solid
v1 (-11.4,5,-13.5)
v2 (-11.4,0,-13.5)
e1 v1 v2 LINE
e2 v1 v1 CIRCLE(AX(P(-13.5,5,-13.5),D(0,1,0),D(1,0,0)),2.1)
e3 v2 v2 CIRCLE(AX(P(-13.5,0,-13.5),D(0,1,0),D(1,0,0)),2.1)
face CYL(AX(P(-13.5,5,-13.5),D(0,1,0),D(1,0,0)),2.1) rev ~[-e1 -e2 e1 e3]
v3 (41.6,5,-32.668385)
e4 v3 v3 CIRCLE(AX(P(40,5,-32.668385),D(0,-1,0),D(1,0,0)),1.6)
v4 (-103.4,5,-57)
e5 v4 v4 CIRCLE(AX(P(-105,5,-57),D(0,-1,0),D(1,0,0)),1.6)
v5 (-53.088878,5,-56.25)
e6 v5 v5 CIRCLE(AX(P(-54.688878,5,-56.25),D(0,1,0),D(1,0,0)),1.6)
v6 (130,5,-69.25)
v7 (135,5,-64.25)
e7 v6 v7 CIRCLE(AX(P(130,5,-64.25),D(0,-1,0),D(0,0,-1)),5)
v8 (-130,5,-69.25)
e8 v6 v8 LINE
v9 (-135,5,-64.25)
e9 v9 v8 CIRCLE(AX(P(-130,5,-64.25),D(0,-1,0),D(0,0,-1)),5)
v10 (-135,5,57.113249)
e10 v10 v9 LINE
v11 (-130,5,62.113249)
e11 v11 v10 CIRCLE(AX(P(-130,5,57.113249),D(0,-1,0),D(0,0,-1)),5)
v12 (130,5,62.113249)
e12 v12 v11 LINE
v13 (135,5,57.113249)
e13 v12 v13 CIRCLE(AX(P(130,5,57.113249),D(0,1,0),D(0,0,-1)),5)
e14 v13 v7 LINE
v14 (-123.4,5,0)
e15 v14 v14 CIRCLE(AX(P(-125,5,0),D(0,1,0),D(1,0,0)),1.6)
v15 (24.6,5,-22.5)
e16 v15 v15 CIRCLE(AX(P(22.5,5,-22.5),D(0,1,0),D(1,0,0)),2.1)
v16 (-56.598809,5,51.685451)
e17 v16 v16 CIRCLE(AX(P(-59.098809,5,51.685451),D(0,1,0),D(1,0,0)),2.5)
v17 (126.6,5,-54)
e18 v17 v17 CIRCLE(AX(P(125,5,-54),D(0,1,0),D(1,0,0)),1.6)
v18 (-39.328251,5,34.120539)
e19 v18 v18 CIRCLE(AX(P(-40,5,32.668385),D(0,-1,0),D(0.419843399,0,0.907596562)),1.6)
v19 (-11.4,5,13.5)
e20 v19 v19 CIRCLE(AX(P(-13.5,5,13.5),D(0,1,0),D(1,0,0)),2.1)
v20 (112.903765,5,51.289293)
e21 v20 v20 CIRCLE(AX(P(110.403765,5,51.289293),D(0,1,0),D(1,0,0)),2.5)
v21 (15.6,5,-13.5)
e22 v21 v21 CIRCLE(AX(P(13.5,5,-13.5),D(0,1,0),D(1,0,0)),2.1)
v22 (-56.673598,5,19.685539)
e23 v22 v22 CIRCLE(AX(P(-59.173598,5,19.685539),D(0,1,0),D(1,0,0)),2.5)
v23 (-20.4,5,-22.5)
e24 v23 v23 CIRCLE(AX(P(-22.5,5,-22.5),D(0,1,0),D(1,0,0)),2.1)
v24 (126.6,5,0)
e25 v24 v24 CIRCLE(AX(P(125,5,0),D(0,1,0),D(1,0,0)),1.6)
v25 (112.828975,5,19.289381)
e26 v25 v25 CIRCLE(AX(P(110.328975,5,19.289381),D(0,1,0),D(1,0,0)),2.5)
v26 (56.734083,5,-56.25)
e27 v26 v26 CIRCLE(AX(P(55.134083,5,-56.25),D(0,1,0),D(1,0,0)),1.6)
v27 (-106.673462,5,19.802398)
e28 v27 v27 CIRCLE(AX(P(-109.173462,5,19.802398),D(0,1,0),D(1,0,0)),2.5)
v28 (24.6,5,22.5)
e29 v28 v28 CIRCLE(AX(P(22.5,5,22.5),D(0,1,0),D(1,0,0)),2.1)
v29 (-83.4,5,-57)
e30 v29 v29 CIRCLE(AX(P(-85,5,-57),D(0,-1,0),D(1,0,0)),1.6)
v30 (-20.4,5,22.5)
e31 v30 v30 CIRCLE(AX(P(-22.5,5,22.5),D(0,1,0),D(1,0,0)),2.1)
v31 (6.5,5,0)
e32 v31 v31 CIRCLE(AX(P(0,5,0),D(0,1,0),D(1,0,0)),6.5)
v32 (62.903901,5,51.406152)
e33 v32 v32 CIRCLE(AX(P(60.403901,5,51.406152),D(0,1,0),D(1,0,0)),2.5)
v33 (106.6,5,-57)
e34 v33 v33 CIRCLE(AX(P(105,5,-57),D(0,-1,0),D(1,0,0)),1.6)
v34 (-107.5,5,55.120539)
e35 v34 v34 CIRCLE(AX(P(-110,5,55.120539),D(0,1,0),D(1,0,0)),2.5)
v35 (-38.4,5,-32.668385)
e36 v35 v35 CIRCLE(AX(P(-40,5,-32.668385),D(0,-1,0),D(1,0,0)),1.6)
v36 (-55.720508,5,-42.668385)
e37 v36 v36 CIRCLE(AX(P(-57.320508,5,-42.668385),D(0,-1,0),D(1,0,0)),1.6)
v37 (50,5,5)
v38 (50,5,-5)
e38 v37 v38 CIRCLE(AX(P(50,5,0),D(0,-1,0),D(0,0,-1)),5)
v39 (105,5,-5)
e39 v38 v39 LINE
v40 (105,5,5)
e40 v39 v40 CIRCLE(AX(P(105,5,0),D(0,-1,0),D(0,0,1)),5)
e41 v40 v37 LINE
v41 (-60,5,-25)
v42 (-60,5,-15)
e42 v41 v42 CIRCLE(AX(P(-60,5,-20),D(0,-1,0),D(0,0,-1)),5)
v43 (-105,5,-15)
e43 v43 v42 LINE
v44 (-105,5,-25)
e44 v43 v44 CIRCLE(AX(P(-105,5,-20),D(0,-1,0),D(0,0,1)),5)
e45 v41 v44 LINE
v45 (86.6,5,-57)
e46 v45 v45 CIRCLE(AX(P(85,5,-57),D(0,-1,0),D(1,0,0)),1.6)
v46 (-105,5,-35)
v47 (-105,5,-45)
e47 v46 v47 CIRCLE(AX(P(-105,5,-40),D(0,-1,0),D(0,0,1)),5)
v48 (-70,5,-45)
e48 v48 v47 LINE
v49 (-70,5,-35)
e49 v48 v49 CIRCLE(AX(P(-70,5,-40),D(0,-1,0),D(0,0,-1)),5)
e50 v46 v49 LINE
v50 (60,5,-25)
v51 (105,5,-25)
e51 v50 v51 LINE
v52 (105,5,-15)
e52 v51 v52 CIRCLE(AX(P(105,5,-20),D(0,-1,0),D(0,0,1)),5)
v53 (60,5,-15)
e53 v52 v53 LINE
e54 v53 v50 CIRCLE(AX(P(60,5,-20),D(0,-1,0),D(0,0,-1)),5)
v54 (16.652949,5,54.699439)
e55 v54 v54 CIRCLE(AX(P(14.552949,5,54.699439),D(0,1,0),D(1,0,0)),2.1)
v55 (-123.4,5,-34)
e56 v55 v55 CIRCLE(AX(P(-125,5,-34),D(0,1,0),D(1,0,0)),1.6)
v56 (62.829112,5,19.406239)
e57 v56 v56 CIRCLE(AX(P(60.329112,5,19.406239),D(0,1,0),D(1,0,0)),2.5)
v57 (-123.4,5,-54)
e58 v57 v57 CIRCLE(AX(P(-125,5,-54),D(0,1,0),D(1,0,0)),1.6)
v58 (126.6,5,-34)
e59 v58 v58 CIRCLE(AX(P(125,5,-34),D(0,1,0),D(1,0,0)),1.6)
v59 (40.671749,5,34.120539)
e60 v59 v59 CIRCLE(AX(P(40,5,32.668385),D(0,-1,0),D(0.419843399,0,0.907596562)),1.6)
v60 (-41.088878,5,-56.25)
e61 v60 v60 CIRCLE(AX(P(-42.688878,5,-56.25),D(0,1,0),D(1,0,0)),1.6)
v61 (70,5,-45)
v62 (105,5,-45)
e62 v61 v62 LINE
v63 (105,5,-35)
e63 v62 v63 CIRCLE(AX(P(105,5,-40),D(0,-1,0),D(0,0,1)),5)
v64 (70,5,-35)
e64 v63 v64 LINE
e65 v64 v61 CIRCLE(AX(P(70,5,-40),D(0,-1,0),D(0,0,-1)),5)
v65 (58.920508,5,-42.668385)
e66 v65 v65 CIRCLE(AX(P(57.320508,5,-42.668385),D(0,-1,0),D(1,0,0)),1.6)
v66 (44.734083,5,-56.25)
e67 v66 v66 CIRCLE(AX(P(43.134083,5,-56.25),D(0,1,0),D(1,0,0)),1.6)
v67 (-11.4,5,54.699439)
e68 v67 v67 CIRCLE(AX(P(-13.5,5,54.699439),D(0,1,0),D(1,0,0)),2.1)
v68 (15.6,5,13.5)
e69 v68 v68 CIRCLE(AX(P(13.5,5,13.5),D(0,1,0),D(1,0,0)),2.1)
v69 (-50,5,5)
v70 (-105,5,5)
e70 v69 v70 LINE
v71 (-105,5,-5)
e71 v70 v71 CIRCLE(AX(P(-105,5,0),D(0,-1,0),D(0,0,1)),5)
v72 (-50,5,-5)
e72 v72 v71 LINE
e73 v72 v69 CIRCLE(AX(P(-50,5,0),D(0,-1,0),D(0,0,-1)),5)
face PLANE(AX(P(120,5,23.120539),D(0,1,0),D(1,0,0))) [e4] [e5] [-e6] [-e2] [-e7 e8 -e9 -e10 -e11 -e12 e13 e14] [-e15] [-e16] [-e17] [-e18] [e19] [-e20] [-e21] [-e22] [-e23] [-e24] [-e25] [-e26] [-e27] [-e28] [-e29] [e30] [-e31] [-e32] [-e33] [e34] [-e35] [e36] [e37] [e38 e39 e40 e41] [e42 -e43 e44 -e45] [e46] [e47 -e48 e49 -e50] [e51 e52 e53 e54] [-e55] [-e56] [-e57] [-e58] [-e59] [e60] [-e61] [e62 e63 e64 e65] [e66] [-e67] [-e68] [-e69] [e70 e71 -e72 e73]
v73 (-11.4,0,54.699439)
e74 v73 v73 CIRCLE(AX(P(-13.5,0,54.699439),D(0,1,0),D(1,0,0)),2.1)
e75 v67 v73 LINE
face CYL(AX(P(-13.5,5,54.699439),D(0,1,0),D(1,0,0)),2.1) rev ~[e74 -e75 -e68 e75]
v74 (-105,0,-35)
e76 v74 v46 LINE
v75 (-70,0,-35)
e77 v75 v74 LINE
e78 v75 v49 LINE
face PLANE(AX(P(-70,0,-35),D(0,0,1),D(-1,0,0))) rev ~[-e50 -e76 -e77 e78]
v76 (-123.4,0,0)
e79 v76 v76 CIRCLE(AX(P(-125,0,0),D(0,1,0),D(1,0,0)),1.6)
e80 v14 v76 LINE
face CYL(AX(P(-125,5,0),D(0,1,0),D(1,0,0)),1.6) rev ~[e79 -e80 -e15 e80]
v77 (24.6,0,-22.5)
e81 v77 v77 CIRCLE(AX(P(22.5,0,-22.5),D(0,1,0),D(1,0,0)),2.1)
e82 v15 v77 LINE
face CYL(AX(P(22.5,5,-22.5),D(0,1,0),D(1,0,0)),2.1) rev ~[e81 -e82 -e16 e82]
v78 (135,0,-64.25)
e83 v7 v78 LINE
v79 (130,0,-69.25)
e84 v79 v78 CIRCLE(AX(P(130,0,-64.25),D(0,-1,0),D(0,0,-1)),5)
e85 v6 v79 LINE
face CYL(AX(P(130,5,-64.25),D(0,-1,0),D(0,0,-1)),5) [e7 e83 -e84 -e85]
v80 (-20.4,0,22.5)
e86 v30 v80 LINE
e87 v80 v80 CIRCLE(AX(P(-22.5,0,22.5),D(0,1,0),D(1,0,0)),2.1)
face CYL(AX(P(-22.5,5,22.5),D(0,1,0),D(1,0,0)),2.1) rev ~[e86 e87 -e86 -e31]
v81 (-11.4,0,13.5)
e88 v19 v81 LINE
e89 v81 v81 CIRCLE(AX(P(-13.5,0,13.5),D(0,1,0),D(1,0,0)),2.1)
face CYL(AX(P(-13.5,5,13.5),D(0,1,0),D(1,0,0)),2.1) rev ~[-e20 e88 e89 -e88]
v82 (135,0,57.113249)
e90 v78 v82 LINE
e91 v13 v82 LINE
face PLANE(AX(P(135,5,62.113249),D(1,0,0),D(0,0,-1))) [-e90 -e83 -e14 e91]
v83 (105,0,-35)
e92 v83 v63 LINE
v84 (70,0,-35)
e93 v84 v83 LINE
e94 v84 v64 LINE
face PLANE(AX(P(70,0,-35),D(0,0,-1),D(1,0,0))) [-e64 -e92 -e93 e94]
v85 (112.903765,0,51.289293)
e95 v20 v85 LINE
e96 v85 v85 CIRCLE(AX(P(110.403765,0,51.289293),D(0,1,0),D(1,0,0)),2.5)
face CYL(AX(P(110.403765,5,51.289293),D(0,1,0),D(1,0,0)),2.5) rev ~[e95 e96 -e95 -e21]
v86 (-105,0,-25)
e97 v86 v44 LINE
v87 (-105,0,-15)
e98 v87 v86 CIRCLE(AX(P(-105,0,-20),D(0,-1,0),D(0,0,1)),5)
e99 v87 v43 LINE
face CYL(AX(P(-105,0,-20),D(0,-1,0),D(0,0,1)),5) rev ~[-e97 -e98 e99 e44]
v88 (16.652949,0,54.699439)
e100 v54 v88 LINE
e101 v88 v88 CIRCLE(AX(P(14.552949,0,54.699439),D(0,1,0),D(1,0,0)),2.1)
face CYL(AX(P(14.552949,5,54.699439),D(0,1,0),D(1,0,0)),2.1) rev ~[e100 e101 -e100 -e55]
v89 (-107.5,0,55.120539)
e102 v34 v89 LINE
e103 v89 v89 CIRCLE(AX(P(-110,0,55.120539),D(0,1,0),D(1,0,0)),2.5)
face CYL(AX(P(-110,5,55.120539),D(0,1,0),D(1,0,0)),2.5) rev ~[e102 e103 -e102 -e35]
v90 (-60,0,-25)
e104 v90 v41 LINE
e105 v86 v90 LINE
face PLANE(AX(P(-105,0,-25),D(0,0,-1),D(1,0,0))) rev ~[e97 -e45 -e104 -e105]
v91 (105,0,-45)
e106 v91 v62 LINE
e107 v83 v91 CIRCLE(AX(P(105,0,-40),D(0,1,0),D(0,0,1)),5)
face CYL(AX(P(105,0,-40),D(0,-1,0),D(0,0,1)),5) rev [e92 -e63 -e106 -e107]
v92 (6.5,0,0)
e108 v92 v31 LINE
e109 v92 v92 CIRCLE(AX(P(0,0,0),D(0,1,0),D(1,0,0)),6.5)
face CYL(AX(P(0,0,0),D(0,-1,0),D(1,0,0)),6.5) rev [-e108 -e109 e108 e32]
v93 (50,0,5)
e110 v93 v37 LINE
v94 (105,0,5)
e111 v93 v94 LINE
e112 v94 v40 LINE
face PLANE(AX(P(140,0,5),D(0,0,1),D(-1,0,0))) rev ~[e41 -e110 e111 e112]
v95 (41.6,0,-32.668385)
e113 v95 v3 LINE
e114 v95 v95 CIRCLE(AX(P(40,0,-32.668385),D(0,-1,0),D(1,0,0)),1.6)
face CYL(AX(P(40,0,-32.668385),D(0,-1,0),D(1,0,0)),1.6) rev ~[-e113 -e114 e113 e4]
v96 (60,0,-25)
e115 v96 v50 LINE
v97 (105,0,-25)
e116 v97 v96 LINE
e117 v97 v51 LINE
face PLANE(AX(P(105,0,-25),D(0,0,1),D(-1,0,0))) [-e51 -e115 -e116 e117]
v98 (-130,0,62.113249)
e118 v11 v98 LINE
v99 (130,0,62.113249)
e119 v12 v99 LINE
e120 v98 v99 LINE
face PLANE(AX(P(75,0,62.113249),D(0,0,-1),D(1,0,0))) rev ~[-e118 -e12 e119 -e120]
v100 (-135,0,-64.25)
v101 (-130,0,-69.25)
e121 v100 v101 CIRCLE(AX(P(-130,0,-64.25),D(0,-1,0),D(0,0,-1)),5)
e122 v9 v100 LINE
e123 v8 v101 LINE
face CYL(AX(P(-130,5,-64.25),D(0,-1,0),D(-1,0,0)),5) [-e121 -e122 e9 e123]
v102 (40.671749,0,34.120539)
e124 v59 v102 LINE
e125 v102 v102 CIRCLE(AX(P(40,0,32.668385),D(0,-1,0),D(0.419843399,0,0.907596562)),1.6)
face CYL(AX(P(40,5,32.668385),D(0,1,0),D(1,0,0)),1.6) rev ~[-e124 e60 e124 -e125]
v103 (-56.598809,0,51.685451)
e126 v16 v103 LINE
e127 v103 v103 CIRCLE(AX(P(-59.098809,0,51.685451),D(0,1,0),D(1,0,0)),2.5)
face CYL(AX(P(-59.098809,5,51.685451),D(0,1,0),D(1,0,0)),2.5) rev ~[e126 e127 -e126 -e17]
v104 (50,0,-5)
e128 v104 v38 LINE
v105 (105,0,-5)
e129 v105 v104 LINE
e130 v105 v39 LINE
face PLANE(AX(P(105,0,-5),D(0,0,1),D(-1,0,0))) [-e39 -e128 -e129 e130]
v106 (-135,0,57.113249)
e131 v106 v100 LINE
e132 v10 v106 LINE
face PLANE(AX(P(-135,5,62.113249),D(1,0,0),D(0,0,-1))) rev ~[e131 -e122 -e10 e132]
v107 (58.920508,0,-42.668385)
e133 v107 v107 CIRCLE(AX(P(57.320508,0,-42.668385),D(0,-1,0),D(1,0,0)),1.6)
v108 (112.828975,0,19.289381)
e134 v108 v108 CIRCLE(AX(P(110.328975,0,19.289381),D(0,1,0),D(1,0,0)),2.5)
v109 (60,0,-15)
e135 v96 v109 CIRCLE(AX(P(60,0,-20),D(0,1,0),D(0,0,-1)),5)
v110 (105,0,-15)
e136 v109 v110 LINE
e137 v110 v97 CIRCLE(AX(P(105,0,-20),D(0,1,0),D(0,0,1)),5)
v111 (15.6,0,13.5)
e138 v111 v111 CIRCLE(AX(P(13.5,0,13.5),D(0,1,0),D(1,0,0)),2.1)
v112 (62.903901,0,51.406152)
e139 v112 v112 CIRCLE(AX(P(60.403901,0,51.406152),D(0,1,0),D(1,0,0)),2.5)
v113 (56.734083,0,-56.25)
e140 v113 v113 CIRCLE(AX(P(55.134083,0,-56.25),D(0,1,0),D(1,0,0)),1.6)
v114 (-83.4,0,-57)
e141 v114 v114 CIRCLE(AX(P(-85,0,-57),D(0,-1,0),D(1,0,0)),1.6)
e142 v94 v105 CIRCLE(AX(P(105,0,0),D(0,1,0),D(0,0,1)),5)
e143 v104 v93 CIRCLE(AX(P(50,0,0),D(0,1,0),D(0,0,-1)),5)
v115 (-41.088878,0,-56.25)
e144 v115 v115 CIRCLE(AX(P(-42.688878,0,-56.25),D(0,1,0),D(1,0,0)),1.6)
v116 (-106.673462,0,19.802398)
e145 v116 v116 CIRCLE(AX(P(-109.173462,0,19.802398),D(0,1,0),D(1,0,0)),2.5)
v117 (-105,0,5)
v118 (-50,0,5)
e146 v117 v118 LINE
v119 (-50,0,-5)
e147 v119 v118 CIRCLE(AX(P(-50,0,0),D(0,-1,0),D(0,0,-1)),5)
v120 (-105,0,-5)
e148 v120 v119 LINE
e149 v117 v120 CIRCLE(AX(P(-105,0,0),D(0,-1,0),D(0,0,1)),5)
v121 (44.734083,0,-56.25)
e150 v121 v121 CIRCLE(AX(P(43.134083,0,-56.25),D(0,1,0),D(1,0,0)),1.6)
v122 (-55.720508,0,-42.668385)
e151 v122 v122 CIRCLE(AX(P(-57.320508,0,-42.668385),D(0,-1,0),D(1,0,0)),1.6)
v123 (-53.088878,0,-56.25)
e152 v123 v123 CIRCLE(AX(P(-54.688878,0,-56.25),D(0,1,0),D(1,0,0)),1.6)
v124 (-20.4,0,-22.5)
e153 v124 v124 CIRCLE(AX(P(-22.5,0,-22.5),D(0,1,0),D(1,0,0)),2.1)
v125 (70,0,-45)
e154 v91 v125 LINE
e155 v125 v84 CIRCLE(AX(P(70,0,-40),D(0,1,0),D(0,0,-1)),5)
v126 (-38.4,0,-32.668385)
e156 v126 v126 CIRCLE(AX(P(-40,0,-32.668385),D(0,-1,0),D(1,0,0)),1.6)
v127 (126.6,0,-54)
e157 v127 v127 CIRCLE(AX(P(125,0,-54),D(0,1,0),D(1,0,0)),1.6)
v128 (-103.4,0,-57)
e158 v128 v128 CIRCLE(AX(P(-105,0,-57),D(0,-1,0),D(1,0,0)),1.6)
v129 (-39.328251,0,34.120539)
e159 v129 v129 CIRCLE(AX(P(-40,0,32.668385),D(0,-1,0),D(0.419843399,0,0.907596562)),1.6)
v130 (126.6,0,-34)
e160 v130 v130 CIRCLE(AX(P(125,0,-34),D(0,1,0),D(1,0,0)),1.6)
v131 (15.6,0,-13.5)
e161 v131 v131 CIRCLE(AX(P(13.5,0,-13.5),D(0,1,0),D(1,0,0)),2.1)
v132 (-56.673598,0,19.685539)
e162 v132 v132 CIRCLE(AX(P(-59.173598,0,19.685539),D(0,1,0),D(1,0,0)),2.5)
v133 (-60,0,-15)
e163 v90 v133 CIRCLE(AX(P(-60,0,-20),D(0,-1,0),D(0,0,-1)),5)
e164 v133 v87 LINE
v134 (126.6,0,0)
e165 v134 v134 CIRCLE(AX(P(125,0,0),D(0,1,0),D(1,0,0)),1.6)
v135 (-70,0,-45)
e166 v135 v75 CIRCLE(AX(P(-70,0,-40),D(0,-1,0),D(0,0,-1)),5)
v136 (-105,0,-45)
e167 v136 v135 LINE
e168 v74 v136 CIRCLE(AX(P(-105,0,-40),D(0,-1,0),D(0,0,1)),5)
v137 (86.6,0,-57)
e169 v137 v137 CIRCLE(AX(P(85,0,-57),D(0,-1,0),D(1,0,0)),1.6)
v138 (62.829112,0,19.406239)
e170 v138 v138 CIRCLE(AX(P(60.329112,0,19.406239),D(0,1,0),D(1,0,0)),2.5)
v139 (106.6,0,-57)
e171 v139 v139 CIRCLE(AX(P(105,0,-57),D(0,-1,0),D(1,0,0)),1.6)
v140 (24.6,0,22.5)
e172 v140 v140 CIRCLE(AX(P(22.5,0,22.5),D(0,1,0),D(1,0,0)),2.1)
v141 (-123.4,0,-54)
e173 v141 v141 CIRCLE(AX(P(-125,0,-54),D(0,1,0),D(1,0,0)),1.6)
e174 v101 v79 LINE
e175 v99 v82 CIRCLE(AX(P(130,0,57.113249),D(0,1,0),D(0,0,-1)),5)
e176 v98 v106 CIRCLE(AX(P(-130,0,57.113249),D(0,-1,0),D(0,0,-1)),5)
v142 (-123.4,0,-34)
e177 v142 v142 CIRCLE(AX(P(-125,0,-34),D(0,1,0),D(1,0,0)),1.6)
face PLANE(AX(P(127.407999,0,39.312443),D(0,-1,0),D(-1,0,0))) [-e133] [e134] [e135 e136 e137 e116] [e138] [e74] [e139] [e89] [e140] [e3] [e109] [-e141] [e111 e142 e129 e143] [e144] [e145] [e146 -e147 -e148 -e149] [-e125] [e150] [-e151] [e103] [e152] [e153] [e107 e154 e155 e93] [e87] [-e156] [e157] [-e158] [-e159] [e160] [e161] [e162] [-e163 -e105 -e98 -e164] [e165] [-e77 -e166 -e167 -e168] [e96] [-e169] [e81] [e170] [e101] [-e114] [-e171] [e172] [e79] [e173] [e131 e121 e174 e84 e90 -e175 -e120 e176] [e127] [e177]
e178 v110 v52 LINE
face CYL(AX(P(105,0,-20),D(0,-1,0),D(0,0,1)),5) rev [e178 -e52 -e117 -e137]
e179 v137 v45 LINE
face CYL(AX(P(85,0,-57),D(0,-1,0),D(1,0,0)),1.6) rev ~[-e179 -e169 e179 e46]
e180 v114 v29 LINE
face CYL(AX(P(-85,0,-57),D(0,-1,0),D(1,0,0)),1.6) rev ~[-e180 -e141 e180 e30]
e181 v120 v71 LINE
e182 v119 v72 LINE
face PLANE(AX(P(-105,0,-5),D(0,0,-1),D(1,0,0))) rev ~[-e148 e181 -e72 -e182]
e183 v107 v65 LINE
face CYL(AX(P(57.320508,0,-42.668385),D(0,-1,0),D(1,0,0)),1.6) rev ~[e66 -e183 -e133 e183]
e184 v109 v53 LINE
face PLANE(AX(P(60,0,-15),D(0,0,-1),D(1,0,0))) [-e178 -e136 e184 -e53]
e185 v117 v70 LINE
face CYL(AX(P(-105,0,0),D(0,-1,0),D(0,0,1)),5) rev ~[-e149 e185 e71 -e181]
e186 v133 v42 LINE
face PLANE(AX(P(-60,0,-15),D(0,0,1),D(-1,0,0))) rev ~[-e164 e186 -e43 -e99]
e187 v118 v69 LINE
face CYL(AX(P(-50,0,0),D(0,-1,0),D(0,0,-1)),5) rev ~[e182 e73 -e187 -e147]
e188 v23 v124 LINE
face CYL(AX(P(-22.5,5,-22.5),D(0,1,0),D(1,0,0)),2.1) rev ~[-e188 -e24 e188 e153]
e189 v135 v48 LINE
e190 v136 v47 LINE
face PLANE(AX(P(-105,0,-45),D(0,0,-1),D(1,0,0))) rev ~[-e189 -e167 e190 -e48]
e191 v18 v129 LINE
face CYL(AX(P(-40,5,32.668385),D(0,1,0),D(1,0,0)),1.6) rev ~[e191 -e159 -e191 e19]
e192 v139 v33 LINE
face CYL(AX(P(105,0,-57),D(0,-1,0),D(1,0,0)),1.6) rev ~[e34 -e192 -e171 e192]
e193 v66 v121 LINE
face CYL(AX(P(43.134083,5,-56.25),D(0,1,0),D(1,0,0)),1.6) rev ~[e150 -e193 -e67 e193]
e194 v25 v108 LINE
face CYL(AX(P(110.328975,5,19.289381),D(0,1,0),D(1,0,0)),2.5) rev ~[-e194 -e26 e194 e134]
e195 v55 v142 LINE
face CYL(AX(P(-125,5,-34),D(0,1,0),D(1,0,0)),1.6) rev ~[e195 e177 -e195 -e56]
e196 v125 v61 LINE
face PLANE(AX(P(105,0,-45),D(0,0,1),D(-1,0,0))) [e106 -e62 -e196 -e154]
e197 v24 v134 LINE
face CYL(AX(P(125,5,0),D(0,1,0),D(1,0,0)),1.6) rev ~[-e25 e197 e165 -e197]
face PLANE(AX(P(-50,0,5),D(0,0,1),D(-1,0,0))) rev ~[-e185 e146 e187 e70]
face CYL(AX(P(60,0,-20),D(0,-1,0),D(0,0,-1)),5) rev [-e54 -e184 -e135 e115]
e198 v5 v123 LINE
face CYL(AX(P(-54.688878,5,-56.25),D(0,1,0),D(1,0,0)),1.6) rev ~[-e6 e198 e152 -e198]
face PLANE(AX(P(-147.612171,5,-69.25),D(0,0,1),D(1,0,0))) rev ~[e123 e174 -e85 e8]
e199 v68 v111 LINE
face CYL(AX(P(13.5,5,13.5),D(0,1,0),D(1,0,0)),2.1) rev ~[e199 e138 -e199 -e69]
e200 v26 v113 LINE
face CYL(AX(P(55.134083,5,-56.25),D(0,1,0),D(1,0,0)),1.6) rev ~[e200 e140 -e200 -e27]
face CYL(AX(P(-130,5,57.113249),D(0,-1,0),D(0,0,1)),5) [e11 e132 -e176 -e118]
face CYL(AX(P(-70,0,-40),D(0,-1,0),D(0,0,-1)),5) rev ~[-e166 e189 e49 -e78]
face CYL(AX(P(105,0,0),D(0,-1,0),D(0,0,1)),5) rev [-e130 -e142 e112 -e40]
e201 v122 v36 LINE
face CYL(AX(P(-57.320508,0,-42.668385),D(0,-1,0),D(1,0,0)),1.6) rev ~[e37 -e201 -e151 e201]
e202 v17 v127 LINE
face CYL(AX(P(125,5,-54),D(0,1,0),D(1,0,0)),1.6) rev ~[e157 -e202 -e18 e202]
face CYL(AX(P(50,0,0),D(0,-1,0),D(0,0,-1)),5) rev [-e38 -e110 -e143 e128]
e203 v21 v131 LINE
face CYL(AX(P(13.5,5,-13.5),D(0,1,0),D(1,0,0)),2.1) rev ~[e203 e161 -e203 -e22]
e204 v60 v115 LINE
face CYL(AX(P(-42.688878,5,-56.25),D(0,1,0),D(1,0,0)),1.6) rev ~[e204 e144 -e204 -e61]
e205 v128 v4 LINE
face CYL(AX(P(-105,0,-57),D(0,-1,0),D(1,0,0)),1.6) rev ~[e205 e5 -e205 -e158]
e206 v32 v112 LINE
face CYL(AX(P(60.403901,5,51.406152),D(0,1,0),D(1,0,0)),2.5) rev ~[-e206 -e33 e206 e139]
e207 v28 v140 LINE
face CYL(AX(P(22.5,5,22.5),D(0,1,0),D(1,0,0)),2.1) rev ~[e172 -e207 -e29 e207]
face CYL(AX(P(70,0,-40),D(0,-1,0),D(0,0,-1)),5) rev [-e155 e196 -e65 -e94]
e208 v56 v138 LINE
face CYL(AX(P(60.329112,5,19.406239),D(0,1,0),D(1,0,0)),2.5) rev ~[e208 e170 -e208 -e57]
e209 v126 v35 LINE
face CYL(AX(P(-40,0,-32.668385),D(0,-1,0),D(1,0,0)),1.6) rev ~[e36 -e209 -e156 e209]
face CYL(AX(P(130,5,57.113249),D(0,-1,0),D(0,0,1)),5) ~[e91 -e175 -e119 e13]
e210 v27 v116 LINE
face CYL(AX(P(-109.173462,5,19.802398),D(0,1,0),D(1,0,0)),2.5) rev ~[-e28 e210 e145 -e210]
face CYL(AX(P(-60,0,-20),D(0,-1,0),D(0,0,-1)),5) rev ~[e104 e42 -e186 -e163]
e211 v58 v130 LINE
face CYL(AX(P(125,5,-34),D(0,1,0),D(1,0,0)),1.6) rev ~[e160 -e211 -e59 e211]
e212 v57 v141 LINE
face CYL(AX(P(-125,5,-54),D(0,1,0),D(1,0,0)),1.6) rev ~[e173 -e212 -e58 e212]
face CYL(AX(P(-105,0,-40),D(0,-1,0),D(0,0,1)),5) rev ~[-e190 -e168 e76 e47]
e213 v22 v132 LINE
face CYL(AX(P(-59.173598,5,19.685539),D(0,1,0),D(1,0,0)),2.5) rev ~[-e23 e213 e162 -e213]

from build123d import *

# Parameters (mm, degrees)
SKETCH_1_W           = 280
SKETCH_1_H           = 130
SKETCH_1_R           = 6.5
EXTRUDE_1_DEPTH      = 5
SKETCH_2_R           = 1.6
CUT_EXTRUDE_1_DEPTH  = 5
SKETCH_3_R           = 2.1
CUT_EXTRUDE_2_DEPTH  = 5
CUT_EXTRUDE_3_DEPTH  = 10
CUT_EXTRUDE_4_DEPTH  = 10
SKETCH_11_R          = 1.6
CUT_EXTRUDE_5_DEPTH  = 10
FILLET_1_R           = 20
FILLET_3_R           = 20
SKETCH_12_W          = 65
SKETCH_12_H          = 60
CUT_EXTRUDE_6_DEPTH  = 10
EXTRUDE_2_DEPTH      = 5
SKETCH_14_W          = 280
SKETCH_14_H          = 4.25
EXTRUDE_3_DEPTH      = 5
EXTRUDE_4_DEPTH      = 5
SKETCH_16_R          = 2.1
CUT_EXTRUDE_7_DEPTH  = 6
EXTRUDE_5_DEPTH      = 5
SKETCH_18_R          = 2.5
SKETCH_18_R_2        = 2.624277209
CUT_EXTRUDE_8_DEPTH  = 6
CUT_EXTRUDE_9_DEPTH  = 6
SKETCH_20_R          = 1.6
CUT_EXTRUDE_10_DEPTH = 6
FILLET_4_R           = 2
EXTRUDE_9_DEPTH      = 5
SKETCH_23_R          = 1.6
CUT_EXTRUDE_11_DEPTH = 6
EXTRUDE_10_DEPTH     = 5
EXTRUDE_11_DEPTH     = 5
SKETCH_26_R          = 1.6
CUT_EXTRUDE_12_DEPTH = 6
SKETCH_27_R          = 2.5
SKETCH_27_R_2        = 2.624277209
EXTRUDE_12_DEPTH     = 5
SKETCH_28_R          = 2.500000007
CUT_EXTRUDE_13_DEPTH = 6
SKETCH_29_W          = 11.387828734
SKETCH_29_H          = 131.363248654
CUT_EXTRUDE_14_DEPTH = 6
SKETCH_30_W          = 12.612171266
SKETCH_30_H          = 131.363248654
CUT_EXTRUDE_15_DEPTH = 5
FILLET_5_R           = 5
CUT_EXTRUDE_16_DEPTH = 5
CUT_EXTRUDE_17_DEPTH = 5


with BuildPart() as part:
    # 草图1 → 凸台-拉伸1 (new body)
    with BuildSketch(Plane(origin=(0, 0, 0), x_dir=(1, 0, 0), z_dir=(0, 1, 0))):
        Rectangle(SKETCH_1_W, SKETCH_1_H)
        Circle(SKETCH_1_R, mode=Mode.SUBTRACT)
    extrude(amount=EXTRUDE_1_DEPTH)

    # 草图2 → 切除-拉伸1 (cut)
    with BuildSketch(Plane(origin=(0, 5, 0), x_dir=(1, 0, 0), z_dir=(0, 1, 0))):
        with Locations((-125, 0)):
            Circle(SKETCH_2_R)
        with Locations((-125, 34)):
            Circle(SKETCH_2_R)
        with Locations((-125, 54)):
            Circle(SKETCH_2_R)
        with Locations((-125, -33)):
            Circle(SKETCH_2_R)
        with Locations((125, 54)):
            Circle(SKETCH_2_R)
        with Locations((125, 34)):
            Circle(SKETCH_2_R)
        with Locations((125, 0)):
            Circle(SKETCH_2_R)
        with Locations((125, -33)):
            Circle(SKETCH_2_R)
    extrude(amount=-CUT_EXTRUDE_1_DEPTH, mode=Mode.SUBTRACT)

    # 草图3 → 切除-拉伸2 (cut)
    with BuildSketch(Plane(origin=(0, 5, 0), x_dir=(1, 0, 0), z_dir=(0, 1, 0))):
        with Locations((-13.5, 13.5)):
            Circle(SKETCH_3_R)
        with Locations((-22.5, 22.5)):
            Circle(SKETCH_3_R)
        with Locations((13.5, 13.5)):
            Circle(SKETCH_3_R)
        with Locations((22.5, 22.5)):
            Circle(SKETCH_3_R)
        with Locations((13.5, -13.5)):
            Circle(SKETCH_3_R)
        with Locations((22.5, -22.5)):
            Circle(SKETCH_3_R)
        with Locations((-13.5, -13.5)):
            Circle(SKETCH_3_R)
        with Locations((-22.5, -22.5)):
            Circle(SKETCH_3_R)
    extrude(amount=-CUT_EXTRUDE_2_DEPTH, mode=Mode.SUBTRACT)

    # 草图7 → 切除-拉伸3 (cut)
    with BuildSketch(Plane.XZ):
        with BuildLine():
            Line((80, -65), (23.49175606, -32.37495015))
            ThreePointArc((23.49175606, -32.37495015), (0, -40), (-23.49175606, -32.37495015))
            Line((-23.49175606, -32.37495015), (-80, -65))
            Line((-80, -65), (80, -65))
        make_face()
        with BuildLine():
            Line((80, 65), (-80, 65))
            Line((-80, 65), (-23.49175606, 32.37495015))
            ThreePointArc((-23.49175606, 32.37495015), (0, 40), (23.49175606, 32.37495015))
            Line((23.49175606, 32.37495015), (80, 65))
        make_face()
    extrude(amount=-CUT_EXTRUDE_3_DEPTH, mode=Mode.SUBTRACT)

    # 草图8 → 切除-拉伸4 (cut)
    with BuildSketch(Plane.XZ):
        with BuildLine():
            Line((105, -5), (50, -5))
            ThreePointArc((50, -5), (45, 0), (50, 5))
            Line((50, 5), (105, 5))
            ThreePointArc((105, 5), (110, 0), (105, -5))
        make_face()
        with BuildLine():
            Line((105, -25), (60, -25))
            ThreePointArc((60, -25), (55, -20), (60, -15))
            Line((60, -15), (105, -15))
            ThreePointArc((105, -15), (110, -20), (105, -25))
        make_face()
        with BuildLine():
            Line((105, -45), (70, -45))
            ThreePointArc((70, -45), (65, -40), (70, -35))
            Line((70, -35), (105, -35))
            ThreePointArc((105, -35), (110, -40), (105, -45))
        make_face()
        with BuildLine():
            Line((105, 45), (70, 45))
            ThreePointArc((70, 45), (65, 40), (70, 35))
            Line((70, 35), (105, 35))
            ThreePointArc((105, 35), (110, 40), (105, 45))
        make_face()
        with BuildLine():
            Line((105, 25), (60, 25))
            ThreePointArc((60, 25), (55, 20), (60, 15))
            Line((60, 15), (105, 15))
            ThreePointArc((105, 15), (110, 20), (105, 25))
        make_face()
        with BuildLine():
            Line((-105, -45), (-70, -45))
            ThreePointArc((-70, -45), (-65, -40), (-70, -35))
            Line((-70, -35), (-105, -35))
            ThreePointArc((-105, -35), (-110, -40), (-105, -45))
        make_face()
        with BuildLine():
            Line((-105, -25), (-60, -25))
            ThreePointArc((-60, -25), (-55, -20), (-60, -15))
            Line((-60, -15), (-105, -15))
            ThreePointArc((-105, -15), (-110, -20), (-105, -25))
        make_face()
        with BuildLine():
            Line((-105, -5), (-50, -5))
            ThreePointArc((-50, -5), (-45, 0), (-50, 5))
            Line((-50, 5), (-105, 5))
            ThreePointArc((-105, 5), (-110, 0), (-105, -5))
        make_face()
        with BuildLine():
            Line((-105, 25), (-60, 25))
            ThreePointArc((-60, 25), (-55, 20), (-60, 15))
            Line((-60, 15), (-105, 15))
            ThreePointArc((-105, 15), (-110, 20), (-105, 25))
        make_face()
        with BuildLine():
            Line((-105, 45), (-70, 45))
            ThreePointArc((-70, 45), (-65, 40), (-70, 35))
            Line((-70, 35), (-105, 35))
            ThreePointArc((-105, 35), (-110, 40), (-105, 45))
        make_face()
    extrude(amount=-CUT_EXTRUDE_4_DEPTH, mode=Mode.SUBTRACT)

    # 草图11 → 切除-拉伸5 (cut)
    with BuildSketch(Plane.XZ):
        with Locations((-105, -57)):
            Circle(SKETCH_11_R)
        with Locations((-85, -57)):
            Circle(SKETCH_11_R)
        with Locations((-57.320508076, -42.668384925)):
            Circle(SKETCH_11_R)
        with Locations((-40, -32.668384925)):
            Circle(SKETCH_11_R)
        with Locations((40, -32.668384925)):
            Circle(SKETCH_11_R)
        with Locations((57.320508076, -42.668384925)):
            Circle(SKETCH_11_R)
        with Locations((105, -57)):
            Circle(SKETCH_11_R)
        with Locations((85, -57)):
            Circle(SKETCH_11_R)
        with Locations((-105, 57)):
            Circle(SKETCH_11_R)
        with Locations((-85, 57)):
            Circle(SKETCH_11_R)
        with Locations((-57.320508076, 42.668384925)):
            Circle(SKETCH_11_R)
        with Locations((-40, 32.668384925)):
            Circle(SKETCH_11_R)
        with Locations((40, 32.668384925)):
            Circle(SKETCH_11_R)
        with Locations((57.320508076, 42.668384925)):
            Circle(SKETCH_11_R)
        with Locations((85, 57)):
            Circle(SKETCH_11_R)
        with Locations((105, 57)):
            Circle(SKETCH_11_R)
    extrude(amount=-CUT_EXTRUDE_5_DEPTH, mode=Mode.SUBTRACT)

    # 圆角1
    fillet_1_edges = [part.edges().sort_by_distance(p)[0] for p in [
        (23.49175606, 2.5, 32.37495015),
        (-23.49175606, 2.5, 32.37495015),
        (-23.49175606, 2.5, -32.37495015),
        (23.49175606, 2.5, -32.37495015),
    ]]
    fillet(fillet_1_edges, radius=FILLET_1_R)

    # 圆角3
    fillet_3_edges = [part.edges().sort_by_distance(p)[0] for p in [
        (80, 2.5, 65),
        (-80, 2.5, 65),
        (80, 2.5, -65),
        (-80, 2.5, -65),
    ]]
    fillet(fillet_3_edges, radius=FILLET_3_R)

    # 草图12 → 切除-拉伸6 (cut)
    with BuildSketch(Plane(origin=(0, 5, 0), x_dir=(1, 0, 0), z_dir=(0, 1, 0))):
        with Locations((107.5, -35)):
            Rectangle(SKETCH_12_W, SKETCH_12_H)
        with Locations((-107.5, -35)):
            Rectangle(SKETCH_12_W, SKETCH_12_H)
    extrude(amount=-CUT_EXTRUDE_6_DEPTH, mode=Mode.SUBTRACT)

    # 草图13 → 凸台-拉伸2 (add)
    with BuildSketch(Plane(origin=(0, 5, 0), x_dir=(1, 0, 0), z_dir=(0, 1, 0))):
        with BuildLine():
            Line((-75.358983849, 62.320508076), (-33.232756245, 37.998919229))
            ThreePointArc((-33.232756245, 37.998919229), (-24.491846537, 35.35909936), (-15.488504163, 36.879618203))
            ThreePointArc((-15.488504163, 36.879618203), (0, 40), (15.488504163, 36.879618203))
            ThreePointArc((15.488504163, 36.879618203), (24.491846537, 35.35909936), (33.232756245, 37.998919229))
            Line((33.232756245, 37.998919229), (75.358983849, 62.320508076))
            ThreePointArc((75.358983849, 62.320508076), (80.182602947, 64.318516526), (85.358983849, 65))
            Line((85.358983849, 65), (-85.358983849, 65))
            ThreePointArc((-85.358983849, 65), (-80.182602947, 64.318516526), (-75.358983849, 62.320508076))
        make_face()
    extrude(amount=-EXTRUDE_2_DEPTH)

    # 草图14 → 凸台-拉伸3 (add)
    with BuildSketch(Plane.XZ):
        with Locations((0, -67.125)):
            Rectangle(SKETCH_14_W, SKETCH_14_H)
    extrude(amount=-EXTRUDE_3_DEPTH)

    # 草图15 → 凸台-拉伸4 (add)
    with BuildSketch(Plane.XZ):
        with BuildLine():
            ThreePointArc((70, 35), (65, 40), (70, 45))
            Line((70, 45), (75, 45))
            Line((75, 45), (75, 62.113248654))
            Line((75, 62.113248654), (140, 62.113248654))
            Line((140, 62.113248654), (140, 58.72417686))
            Line((140, 58.72417686), (140, 5))
            Line((140, 5), (75, 5))
            Line((75, 5), (75, 15))
            Line((75, 15), (60, 15))
            ThreePointArc((60, 15), (55, 20), (60, 25))
            Line((60, 25), (75, 25))
            Line((75, 25), (75, 35))
            Line((75, 35), (70, 35))
        make_face()
        with BuildLine():
            ThreePointArc((-15.488504163, 36.879618203), (-24.491846537, 35.35909936), (-33.232756245, 37.998919229))
            Line((-33.232756245, 37.998919229), (-75, 62.113248654))
            Line((-75, 62.113248654), (75, 62.113248654))
            Line((75, 62.113248654), (33.232756245, 37.998919229))
            ThreePointArc((33.232756245, 37.998919229), (24.491846537, 35.35909936), (15.488504163, 36.879618203))
            ThreePointArc((15.488504163, 36.879618203), (0, 40), (-15.488504163, 36.879618203))
        make_face()
        with BuildLine():
            Line((-75, 35), (-70, 35))
            ThreePointArc((-70, 35), (-65, 40), (-70, 45))
            Line((-70, 45), (-75, 45))
            Line((-75, 45), (-75, 62.113248654))
            Line((-75, 62.113248654), (-140, 62.113248654))
            Line((-140, 62.113248654), (-140, 5))
            Line((-140, 5), (-75, 5))
            Line((-75, 5), (-75, 15))
            Line((-75, 15), (-60, 15))
            ThreePointArc((-60, 15), (-55, 20), (-60, 25))
            Line((-60, 25), (-75, 25))
            Line((-75, 25), (-75, 35))
        make_face()
    extrude(amount=-EXTRUDE_4_DEPTH)

    # 草图16 → 切除-拉伸7 (cut, through all)
    with BuildSketch(Plane(origin=(0, 5, 0), x_dir=(1, 0, 0), z_dir=(0, 1, 0))):
        with Locations((-13.5, -54.699438526)):
            Circle(SKETCH_16_R)
        with Locations((14.552949421, -54.699438526)):
            Circle(SKETCH_16_R)
    extrude(amount=-CUT_EXTRUDE_7_DEPTH, mode=Mode.SUBTRACT)

    # 草图17 → 凸台-拉伸5 (add)
    with BuildSketch(Plane(origin=(0, 5, 0), x_dir=(1, 0, 0), z_dir=(0, 1, 0))):
        Polygon((-140, -62.113248654), (-147.612171266, -62.120539425), (-147.612171266, 69.25), (-140, 69.25), align=None)
        Polygon((140, 69.25), (140, -62.113248654), (146.387828734, -62.120539425), (146.387828734, 69.25), align=None)
    extrude(amount=-EXTRUDE_5_DEPTH)

    # 草图18 → 切除-拉伸8 (cut, through all)
    with BuildSketch(Plane(origin=(0, 5, 0), x_dir=(1, 0, 0), z_dir=(0, 1, 0))):
        with Locations((120, -23.120539425)):
            Circle(SKETCH_18_R)
        with Locations((89.387828734, -55.244816634)):
            Circle(SKETCH_18_R_2)
        with Locations((110.403764842, -51.28929314)):
            Circle(SKETCH_18_R)
        with Locations((170, -23.120539425)):
            Circle(SKETCH_18_R)
        with Locations((-59.173598242, -19.68553879)):
            Circle(SKETCH_18_R)
        with Locations((-59.098808662, -51.685451392)):
            Circle(SKETCH_18_R)
        with Locations((-110, -55.120539425)):
            Circle(SKETCH_18_R)
        with Locations((-109.173461682, -19.802397509)):
            Circle(SKETCH_18_R)
    extrude(amount=-CUT_EXTRUDE_8_DEPTH, mode=Mode.SUBTRACT)

    # 草图19 → 切除-拉伸9 (cut, through all)
    with BuildSketch(Plane(origin=(0, 5, 0), x_dir=(1, 0, 0), z_dir=(0, 1, 0))):
        with BuildLine():
            Line((114.693914367, -34.120539425), (144.693914367, -34.120539425))
            ThreePointArc((144.693914367, -34.120539425), (149.693914367, -39.120539425), (144.693914367, -44.120539425))
            Line((144.693914367, -44.120539425), (114.693914367, -44.120539425))
            ThreePointArc((114.693914367, -44.120539425), (109.693914367, -39.120539425), (114.693914367, -34.120539425))
        make_face()
        with BuildLine():
            Line((-130.612171266, -34.120539425), (-39.387828734, -34.120539425))
            ThreePointArc((-39.387828734, -34.120539425), (-34.387828734, -39.120539425), (-39.387828734, -44.120539425))
            Line((-39.387828734, -44.120539425), (-130.612171266, -44.120539425))
            ThreePointArc((-130.612171266, -44.120539425), (-135.612171266, -39.120539425), (-130.612171266, -34.120539425))
        make_face()
        with BuildLine():
            Line((-20.612171266, -34.120539425), (80.612171266, -34.120539425))
            ThreePointArc((80.612171266, -34.120539425), (85.612171266, -39.120539425), (80.612171266, -44.120539425))
            Line((80.612171266, -44.120539425), (-20.612171266, -44.120539425))
            ThreePointArc((-20.612171266, -44.120539425), (-25.612171266, -39.120539425), (-20.612171266, -34.120539425))
        make_face()
    extrude(amount=-CUT_EXTRUDE_9_DEPTH, mode=Mode.SUBTRACT)

    # 草图20 → 切除-拉伸10 (cut, through all)
    with BuildSketch(Plane(origin=(0, 5, 0), x_dir=(1, 0, 0), z_dir=(0, 1, 0))):
        with Locations((-42.68887774, 56.25)):
            Circle(SKETCH_20_R)
        with Locations((-54.68887774, 56.25)):
            Circle(SKETCH_20_R)
        with Locations((43.134082896, 56.25)):
            Circle(SKETCH_20_R)
        with Locations((55.134082896, 56.25)):
            Circle(SKETCH_20_R)
    extrude(amount=-CUT_EXTRUDE_10_DEPTH, mode=Mode.SUBTRACT)

    # 圆角4
    fillet_4_edges = [part.edges().sort_by_distance(p)[0] for p in [
        (-147.612171266, 2.5, 62.120539425),
        (-147.612171266, 2.5, -69.25),
        (146.387828734, 2.5, -69.25),
        (146.387828734, 2.5, 62.120539425),
    ]]
    fillet(fillet_4_edges, radius=FILLET_4_R)

    # 草图22 → 凸台-拉伸9 (add)
    with BuildSketch(Plane(origin=(0, 5, 0), x_dir=(1, 0, 0), z_dir=(0, 1, 0))):
        Polygon((-130.612171266, -34.120539425), (-33.773635594, -34.120539425), (-33.773635594, -44.424171032), (-136.28455359, -44.424171032), (-136.28455359, -34.120539425), align=None)
    extrude(amount=-EXTRUDE_9_DEPTH)

    # 草图23 → 切除-拉伸11 (cut, through all)
    with BuildSketch(Plane(origin=(0, 5, 0), x_dir=(1, 0, 0), z_dir=(0, 1, 0))):
        with Locations((-40, -32.668384925)):
            Circle(SKETCH_23_R)
    extrude(amount=-CUT_EXTRUDE_11_DEPTH, mode=Mode.SUBTRACT)

    # 草图24 → 凸台-拉伸10 (add)
    with BuildSketch(Plane(origin=(0, 5, 0), x_dir=(1, 0, 0), z_dir=(0, 1, 0))):
        Polygon((-20.612171266, -34.120539425), (87.35551584, -34.120539425), (87.35551584, -44.83560988), (-26.412316295, -44.83560988), (-26.412316295, -34.120539425), align=None)
    extrude(amount=-EXTRUDE_10_DEPTH)

    # 草图25 → 凸台-拉伸11 (add)
    with BuildSketch(Plane(origin=(0, 5, 0), x_dir=(1, 0, 0), z_dir=(0, 1, 0))):
        Polygon((114.693914367, -34.120539425), (146.387828734, -34.120539425), (146.387828734, -44.589523886), (108.618617033, -44.589523886), (108.618617033, -33.647045262), align=None)
    extrude(amount=-EXTRUDE_11_DEPTH)

    # 草图26 → 切除-拉伸12 (cut, through all)
    with BuildSketch(Plane(origin=(0, 5, 0), x_dir=(1, 0, 0), z_dir=(0, 1, 0))):
        with Locations((40, -32.668384925)):
            Circle(SKETCH_26_R)
    extrude(amount=-CUT_EXTRUDE_12_DEPTH, mode=Mode.SUBTRACT)

    # 草图27 → 凸台-拉伸12 (add)
    with BuildSketch(Plane(origin=(0, 5, 0), x_dir=(1, 0, 0), z_dir=(0, 1, 0))):
        with Locations((120, -23.120539425)):
            Circle(SKETCH_27_R)
        with Locations((110.403764842, -51.28929314)):
            Circle(SKETCH_27_R)
        with Locations((89.387828734, -55.244816634)):
            Circle(SKETCH_27_R_2)
    extrude(amount=-EXTRUDE_12_DEPTH)

    # 草图28 → 切除-拉伸13 (cut, through all)
    with BuildSketch(Plane(origin=(0, 5, 0), x_dir=(1, 0, 0), z_dir=(0, 1, 0))):
        with Locations((110.328975234, -19.289380538)):
            Circle(SKETCH_28_R)
        with Locations((110.403764842, -51.28929314)):
            Circle(SKETCH_28_R)
        with Locations((60.403901402, -51.406151903)):
            Circle(SKETCH_28_R)
        with Locations((60.329111794, -19.406239302)):
            Circle(SKETCH_28_R)
    extrude(amount=-CUT_EXTRUDE_13_DEPTH, mode=Mode.SUBTRACT)

    # 草图29 → 切除-拉伸14 (cut, through all)
    with BuildSketch(Plane(origin=(0, 5, 0), x_dir=(1, 0, 0), z_dir=(0, 1, 0))):
        with Locations((140.693914367, 3.568375673)):
            Rectangle(SKETCH_29_W, SKETCH_29_H)
    extrude(amount=-CUT_EXTRUDE_14_DEPTH, mode=Mode.SUBTRACT)

    # 草图30 → 切除-拉伸15 (cut)
    with BuildSketch(Plane(origin=(0, 5, 0), x_dir=(1, 0, 0), z_dir=(0, 1, 0))):
        with Locations((-141.306085633, 3.568375673)):
            Rectangle(SKETCH_30_W, SKETCH_30_H)
    extrude(amount=-CUT_EXTRUDE_15_DEPTH, mode=Mode.SUBTRACT)

    # 圆角5
    fillet_5_edges = [part.edges().sort_by_distance(p)[0] for p in [
        (-135, 2.5, -69.25),
        (135, 2.5, 62.113248654),
        (135, 2.5, -69.25),
        (-135, 2.5, 62.113248654),
    ]]
    fillet(fillet_5_edges, radius=FILLET_5_R)

    # 草图31 → 切除-拉伸16 (cut)
    with BuildSketch(Plane(origin=(0, 5, 0), x_dir=(1, 0, 0), z_dir=(0, 1, 0))):
        Polygon((140, -62.113248654), (144.385812482, -61.884800209), (145.499369349, -62.113248654), (140, -62.689805716), align=None)
    extrude(amount=-CUT_EXTRUDE_16_DEPTH, mode=Mode.SUBTRACT)

    # 草图32 → 切除-拉伸17 (cut)
    with BuildSketch(Plane(origin=(0, 5, 0), x_dir=(1, 0, 0), z_dir=(0, 1, 0))):
        Polygon((-145.806700882, -61.654042144), (-145.865181406, -62.693489559), (-139.457024987, -62.598752963), (-139.518564745, -61.467732603), align=None)
    extrude(amount=-CUT_EXTRUDE_17_DEPTH, mode=Mode.SUBTRACT)


solid = part.part
